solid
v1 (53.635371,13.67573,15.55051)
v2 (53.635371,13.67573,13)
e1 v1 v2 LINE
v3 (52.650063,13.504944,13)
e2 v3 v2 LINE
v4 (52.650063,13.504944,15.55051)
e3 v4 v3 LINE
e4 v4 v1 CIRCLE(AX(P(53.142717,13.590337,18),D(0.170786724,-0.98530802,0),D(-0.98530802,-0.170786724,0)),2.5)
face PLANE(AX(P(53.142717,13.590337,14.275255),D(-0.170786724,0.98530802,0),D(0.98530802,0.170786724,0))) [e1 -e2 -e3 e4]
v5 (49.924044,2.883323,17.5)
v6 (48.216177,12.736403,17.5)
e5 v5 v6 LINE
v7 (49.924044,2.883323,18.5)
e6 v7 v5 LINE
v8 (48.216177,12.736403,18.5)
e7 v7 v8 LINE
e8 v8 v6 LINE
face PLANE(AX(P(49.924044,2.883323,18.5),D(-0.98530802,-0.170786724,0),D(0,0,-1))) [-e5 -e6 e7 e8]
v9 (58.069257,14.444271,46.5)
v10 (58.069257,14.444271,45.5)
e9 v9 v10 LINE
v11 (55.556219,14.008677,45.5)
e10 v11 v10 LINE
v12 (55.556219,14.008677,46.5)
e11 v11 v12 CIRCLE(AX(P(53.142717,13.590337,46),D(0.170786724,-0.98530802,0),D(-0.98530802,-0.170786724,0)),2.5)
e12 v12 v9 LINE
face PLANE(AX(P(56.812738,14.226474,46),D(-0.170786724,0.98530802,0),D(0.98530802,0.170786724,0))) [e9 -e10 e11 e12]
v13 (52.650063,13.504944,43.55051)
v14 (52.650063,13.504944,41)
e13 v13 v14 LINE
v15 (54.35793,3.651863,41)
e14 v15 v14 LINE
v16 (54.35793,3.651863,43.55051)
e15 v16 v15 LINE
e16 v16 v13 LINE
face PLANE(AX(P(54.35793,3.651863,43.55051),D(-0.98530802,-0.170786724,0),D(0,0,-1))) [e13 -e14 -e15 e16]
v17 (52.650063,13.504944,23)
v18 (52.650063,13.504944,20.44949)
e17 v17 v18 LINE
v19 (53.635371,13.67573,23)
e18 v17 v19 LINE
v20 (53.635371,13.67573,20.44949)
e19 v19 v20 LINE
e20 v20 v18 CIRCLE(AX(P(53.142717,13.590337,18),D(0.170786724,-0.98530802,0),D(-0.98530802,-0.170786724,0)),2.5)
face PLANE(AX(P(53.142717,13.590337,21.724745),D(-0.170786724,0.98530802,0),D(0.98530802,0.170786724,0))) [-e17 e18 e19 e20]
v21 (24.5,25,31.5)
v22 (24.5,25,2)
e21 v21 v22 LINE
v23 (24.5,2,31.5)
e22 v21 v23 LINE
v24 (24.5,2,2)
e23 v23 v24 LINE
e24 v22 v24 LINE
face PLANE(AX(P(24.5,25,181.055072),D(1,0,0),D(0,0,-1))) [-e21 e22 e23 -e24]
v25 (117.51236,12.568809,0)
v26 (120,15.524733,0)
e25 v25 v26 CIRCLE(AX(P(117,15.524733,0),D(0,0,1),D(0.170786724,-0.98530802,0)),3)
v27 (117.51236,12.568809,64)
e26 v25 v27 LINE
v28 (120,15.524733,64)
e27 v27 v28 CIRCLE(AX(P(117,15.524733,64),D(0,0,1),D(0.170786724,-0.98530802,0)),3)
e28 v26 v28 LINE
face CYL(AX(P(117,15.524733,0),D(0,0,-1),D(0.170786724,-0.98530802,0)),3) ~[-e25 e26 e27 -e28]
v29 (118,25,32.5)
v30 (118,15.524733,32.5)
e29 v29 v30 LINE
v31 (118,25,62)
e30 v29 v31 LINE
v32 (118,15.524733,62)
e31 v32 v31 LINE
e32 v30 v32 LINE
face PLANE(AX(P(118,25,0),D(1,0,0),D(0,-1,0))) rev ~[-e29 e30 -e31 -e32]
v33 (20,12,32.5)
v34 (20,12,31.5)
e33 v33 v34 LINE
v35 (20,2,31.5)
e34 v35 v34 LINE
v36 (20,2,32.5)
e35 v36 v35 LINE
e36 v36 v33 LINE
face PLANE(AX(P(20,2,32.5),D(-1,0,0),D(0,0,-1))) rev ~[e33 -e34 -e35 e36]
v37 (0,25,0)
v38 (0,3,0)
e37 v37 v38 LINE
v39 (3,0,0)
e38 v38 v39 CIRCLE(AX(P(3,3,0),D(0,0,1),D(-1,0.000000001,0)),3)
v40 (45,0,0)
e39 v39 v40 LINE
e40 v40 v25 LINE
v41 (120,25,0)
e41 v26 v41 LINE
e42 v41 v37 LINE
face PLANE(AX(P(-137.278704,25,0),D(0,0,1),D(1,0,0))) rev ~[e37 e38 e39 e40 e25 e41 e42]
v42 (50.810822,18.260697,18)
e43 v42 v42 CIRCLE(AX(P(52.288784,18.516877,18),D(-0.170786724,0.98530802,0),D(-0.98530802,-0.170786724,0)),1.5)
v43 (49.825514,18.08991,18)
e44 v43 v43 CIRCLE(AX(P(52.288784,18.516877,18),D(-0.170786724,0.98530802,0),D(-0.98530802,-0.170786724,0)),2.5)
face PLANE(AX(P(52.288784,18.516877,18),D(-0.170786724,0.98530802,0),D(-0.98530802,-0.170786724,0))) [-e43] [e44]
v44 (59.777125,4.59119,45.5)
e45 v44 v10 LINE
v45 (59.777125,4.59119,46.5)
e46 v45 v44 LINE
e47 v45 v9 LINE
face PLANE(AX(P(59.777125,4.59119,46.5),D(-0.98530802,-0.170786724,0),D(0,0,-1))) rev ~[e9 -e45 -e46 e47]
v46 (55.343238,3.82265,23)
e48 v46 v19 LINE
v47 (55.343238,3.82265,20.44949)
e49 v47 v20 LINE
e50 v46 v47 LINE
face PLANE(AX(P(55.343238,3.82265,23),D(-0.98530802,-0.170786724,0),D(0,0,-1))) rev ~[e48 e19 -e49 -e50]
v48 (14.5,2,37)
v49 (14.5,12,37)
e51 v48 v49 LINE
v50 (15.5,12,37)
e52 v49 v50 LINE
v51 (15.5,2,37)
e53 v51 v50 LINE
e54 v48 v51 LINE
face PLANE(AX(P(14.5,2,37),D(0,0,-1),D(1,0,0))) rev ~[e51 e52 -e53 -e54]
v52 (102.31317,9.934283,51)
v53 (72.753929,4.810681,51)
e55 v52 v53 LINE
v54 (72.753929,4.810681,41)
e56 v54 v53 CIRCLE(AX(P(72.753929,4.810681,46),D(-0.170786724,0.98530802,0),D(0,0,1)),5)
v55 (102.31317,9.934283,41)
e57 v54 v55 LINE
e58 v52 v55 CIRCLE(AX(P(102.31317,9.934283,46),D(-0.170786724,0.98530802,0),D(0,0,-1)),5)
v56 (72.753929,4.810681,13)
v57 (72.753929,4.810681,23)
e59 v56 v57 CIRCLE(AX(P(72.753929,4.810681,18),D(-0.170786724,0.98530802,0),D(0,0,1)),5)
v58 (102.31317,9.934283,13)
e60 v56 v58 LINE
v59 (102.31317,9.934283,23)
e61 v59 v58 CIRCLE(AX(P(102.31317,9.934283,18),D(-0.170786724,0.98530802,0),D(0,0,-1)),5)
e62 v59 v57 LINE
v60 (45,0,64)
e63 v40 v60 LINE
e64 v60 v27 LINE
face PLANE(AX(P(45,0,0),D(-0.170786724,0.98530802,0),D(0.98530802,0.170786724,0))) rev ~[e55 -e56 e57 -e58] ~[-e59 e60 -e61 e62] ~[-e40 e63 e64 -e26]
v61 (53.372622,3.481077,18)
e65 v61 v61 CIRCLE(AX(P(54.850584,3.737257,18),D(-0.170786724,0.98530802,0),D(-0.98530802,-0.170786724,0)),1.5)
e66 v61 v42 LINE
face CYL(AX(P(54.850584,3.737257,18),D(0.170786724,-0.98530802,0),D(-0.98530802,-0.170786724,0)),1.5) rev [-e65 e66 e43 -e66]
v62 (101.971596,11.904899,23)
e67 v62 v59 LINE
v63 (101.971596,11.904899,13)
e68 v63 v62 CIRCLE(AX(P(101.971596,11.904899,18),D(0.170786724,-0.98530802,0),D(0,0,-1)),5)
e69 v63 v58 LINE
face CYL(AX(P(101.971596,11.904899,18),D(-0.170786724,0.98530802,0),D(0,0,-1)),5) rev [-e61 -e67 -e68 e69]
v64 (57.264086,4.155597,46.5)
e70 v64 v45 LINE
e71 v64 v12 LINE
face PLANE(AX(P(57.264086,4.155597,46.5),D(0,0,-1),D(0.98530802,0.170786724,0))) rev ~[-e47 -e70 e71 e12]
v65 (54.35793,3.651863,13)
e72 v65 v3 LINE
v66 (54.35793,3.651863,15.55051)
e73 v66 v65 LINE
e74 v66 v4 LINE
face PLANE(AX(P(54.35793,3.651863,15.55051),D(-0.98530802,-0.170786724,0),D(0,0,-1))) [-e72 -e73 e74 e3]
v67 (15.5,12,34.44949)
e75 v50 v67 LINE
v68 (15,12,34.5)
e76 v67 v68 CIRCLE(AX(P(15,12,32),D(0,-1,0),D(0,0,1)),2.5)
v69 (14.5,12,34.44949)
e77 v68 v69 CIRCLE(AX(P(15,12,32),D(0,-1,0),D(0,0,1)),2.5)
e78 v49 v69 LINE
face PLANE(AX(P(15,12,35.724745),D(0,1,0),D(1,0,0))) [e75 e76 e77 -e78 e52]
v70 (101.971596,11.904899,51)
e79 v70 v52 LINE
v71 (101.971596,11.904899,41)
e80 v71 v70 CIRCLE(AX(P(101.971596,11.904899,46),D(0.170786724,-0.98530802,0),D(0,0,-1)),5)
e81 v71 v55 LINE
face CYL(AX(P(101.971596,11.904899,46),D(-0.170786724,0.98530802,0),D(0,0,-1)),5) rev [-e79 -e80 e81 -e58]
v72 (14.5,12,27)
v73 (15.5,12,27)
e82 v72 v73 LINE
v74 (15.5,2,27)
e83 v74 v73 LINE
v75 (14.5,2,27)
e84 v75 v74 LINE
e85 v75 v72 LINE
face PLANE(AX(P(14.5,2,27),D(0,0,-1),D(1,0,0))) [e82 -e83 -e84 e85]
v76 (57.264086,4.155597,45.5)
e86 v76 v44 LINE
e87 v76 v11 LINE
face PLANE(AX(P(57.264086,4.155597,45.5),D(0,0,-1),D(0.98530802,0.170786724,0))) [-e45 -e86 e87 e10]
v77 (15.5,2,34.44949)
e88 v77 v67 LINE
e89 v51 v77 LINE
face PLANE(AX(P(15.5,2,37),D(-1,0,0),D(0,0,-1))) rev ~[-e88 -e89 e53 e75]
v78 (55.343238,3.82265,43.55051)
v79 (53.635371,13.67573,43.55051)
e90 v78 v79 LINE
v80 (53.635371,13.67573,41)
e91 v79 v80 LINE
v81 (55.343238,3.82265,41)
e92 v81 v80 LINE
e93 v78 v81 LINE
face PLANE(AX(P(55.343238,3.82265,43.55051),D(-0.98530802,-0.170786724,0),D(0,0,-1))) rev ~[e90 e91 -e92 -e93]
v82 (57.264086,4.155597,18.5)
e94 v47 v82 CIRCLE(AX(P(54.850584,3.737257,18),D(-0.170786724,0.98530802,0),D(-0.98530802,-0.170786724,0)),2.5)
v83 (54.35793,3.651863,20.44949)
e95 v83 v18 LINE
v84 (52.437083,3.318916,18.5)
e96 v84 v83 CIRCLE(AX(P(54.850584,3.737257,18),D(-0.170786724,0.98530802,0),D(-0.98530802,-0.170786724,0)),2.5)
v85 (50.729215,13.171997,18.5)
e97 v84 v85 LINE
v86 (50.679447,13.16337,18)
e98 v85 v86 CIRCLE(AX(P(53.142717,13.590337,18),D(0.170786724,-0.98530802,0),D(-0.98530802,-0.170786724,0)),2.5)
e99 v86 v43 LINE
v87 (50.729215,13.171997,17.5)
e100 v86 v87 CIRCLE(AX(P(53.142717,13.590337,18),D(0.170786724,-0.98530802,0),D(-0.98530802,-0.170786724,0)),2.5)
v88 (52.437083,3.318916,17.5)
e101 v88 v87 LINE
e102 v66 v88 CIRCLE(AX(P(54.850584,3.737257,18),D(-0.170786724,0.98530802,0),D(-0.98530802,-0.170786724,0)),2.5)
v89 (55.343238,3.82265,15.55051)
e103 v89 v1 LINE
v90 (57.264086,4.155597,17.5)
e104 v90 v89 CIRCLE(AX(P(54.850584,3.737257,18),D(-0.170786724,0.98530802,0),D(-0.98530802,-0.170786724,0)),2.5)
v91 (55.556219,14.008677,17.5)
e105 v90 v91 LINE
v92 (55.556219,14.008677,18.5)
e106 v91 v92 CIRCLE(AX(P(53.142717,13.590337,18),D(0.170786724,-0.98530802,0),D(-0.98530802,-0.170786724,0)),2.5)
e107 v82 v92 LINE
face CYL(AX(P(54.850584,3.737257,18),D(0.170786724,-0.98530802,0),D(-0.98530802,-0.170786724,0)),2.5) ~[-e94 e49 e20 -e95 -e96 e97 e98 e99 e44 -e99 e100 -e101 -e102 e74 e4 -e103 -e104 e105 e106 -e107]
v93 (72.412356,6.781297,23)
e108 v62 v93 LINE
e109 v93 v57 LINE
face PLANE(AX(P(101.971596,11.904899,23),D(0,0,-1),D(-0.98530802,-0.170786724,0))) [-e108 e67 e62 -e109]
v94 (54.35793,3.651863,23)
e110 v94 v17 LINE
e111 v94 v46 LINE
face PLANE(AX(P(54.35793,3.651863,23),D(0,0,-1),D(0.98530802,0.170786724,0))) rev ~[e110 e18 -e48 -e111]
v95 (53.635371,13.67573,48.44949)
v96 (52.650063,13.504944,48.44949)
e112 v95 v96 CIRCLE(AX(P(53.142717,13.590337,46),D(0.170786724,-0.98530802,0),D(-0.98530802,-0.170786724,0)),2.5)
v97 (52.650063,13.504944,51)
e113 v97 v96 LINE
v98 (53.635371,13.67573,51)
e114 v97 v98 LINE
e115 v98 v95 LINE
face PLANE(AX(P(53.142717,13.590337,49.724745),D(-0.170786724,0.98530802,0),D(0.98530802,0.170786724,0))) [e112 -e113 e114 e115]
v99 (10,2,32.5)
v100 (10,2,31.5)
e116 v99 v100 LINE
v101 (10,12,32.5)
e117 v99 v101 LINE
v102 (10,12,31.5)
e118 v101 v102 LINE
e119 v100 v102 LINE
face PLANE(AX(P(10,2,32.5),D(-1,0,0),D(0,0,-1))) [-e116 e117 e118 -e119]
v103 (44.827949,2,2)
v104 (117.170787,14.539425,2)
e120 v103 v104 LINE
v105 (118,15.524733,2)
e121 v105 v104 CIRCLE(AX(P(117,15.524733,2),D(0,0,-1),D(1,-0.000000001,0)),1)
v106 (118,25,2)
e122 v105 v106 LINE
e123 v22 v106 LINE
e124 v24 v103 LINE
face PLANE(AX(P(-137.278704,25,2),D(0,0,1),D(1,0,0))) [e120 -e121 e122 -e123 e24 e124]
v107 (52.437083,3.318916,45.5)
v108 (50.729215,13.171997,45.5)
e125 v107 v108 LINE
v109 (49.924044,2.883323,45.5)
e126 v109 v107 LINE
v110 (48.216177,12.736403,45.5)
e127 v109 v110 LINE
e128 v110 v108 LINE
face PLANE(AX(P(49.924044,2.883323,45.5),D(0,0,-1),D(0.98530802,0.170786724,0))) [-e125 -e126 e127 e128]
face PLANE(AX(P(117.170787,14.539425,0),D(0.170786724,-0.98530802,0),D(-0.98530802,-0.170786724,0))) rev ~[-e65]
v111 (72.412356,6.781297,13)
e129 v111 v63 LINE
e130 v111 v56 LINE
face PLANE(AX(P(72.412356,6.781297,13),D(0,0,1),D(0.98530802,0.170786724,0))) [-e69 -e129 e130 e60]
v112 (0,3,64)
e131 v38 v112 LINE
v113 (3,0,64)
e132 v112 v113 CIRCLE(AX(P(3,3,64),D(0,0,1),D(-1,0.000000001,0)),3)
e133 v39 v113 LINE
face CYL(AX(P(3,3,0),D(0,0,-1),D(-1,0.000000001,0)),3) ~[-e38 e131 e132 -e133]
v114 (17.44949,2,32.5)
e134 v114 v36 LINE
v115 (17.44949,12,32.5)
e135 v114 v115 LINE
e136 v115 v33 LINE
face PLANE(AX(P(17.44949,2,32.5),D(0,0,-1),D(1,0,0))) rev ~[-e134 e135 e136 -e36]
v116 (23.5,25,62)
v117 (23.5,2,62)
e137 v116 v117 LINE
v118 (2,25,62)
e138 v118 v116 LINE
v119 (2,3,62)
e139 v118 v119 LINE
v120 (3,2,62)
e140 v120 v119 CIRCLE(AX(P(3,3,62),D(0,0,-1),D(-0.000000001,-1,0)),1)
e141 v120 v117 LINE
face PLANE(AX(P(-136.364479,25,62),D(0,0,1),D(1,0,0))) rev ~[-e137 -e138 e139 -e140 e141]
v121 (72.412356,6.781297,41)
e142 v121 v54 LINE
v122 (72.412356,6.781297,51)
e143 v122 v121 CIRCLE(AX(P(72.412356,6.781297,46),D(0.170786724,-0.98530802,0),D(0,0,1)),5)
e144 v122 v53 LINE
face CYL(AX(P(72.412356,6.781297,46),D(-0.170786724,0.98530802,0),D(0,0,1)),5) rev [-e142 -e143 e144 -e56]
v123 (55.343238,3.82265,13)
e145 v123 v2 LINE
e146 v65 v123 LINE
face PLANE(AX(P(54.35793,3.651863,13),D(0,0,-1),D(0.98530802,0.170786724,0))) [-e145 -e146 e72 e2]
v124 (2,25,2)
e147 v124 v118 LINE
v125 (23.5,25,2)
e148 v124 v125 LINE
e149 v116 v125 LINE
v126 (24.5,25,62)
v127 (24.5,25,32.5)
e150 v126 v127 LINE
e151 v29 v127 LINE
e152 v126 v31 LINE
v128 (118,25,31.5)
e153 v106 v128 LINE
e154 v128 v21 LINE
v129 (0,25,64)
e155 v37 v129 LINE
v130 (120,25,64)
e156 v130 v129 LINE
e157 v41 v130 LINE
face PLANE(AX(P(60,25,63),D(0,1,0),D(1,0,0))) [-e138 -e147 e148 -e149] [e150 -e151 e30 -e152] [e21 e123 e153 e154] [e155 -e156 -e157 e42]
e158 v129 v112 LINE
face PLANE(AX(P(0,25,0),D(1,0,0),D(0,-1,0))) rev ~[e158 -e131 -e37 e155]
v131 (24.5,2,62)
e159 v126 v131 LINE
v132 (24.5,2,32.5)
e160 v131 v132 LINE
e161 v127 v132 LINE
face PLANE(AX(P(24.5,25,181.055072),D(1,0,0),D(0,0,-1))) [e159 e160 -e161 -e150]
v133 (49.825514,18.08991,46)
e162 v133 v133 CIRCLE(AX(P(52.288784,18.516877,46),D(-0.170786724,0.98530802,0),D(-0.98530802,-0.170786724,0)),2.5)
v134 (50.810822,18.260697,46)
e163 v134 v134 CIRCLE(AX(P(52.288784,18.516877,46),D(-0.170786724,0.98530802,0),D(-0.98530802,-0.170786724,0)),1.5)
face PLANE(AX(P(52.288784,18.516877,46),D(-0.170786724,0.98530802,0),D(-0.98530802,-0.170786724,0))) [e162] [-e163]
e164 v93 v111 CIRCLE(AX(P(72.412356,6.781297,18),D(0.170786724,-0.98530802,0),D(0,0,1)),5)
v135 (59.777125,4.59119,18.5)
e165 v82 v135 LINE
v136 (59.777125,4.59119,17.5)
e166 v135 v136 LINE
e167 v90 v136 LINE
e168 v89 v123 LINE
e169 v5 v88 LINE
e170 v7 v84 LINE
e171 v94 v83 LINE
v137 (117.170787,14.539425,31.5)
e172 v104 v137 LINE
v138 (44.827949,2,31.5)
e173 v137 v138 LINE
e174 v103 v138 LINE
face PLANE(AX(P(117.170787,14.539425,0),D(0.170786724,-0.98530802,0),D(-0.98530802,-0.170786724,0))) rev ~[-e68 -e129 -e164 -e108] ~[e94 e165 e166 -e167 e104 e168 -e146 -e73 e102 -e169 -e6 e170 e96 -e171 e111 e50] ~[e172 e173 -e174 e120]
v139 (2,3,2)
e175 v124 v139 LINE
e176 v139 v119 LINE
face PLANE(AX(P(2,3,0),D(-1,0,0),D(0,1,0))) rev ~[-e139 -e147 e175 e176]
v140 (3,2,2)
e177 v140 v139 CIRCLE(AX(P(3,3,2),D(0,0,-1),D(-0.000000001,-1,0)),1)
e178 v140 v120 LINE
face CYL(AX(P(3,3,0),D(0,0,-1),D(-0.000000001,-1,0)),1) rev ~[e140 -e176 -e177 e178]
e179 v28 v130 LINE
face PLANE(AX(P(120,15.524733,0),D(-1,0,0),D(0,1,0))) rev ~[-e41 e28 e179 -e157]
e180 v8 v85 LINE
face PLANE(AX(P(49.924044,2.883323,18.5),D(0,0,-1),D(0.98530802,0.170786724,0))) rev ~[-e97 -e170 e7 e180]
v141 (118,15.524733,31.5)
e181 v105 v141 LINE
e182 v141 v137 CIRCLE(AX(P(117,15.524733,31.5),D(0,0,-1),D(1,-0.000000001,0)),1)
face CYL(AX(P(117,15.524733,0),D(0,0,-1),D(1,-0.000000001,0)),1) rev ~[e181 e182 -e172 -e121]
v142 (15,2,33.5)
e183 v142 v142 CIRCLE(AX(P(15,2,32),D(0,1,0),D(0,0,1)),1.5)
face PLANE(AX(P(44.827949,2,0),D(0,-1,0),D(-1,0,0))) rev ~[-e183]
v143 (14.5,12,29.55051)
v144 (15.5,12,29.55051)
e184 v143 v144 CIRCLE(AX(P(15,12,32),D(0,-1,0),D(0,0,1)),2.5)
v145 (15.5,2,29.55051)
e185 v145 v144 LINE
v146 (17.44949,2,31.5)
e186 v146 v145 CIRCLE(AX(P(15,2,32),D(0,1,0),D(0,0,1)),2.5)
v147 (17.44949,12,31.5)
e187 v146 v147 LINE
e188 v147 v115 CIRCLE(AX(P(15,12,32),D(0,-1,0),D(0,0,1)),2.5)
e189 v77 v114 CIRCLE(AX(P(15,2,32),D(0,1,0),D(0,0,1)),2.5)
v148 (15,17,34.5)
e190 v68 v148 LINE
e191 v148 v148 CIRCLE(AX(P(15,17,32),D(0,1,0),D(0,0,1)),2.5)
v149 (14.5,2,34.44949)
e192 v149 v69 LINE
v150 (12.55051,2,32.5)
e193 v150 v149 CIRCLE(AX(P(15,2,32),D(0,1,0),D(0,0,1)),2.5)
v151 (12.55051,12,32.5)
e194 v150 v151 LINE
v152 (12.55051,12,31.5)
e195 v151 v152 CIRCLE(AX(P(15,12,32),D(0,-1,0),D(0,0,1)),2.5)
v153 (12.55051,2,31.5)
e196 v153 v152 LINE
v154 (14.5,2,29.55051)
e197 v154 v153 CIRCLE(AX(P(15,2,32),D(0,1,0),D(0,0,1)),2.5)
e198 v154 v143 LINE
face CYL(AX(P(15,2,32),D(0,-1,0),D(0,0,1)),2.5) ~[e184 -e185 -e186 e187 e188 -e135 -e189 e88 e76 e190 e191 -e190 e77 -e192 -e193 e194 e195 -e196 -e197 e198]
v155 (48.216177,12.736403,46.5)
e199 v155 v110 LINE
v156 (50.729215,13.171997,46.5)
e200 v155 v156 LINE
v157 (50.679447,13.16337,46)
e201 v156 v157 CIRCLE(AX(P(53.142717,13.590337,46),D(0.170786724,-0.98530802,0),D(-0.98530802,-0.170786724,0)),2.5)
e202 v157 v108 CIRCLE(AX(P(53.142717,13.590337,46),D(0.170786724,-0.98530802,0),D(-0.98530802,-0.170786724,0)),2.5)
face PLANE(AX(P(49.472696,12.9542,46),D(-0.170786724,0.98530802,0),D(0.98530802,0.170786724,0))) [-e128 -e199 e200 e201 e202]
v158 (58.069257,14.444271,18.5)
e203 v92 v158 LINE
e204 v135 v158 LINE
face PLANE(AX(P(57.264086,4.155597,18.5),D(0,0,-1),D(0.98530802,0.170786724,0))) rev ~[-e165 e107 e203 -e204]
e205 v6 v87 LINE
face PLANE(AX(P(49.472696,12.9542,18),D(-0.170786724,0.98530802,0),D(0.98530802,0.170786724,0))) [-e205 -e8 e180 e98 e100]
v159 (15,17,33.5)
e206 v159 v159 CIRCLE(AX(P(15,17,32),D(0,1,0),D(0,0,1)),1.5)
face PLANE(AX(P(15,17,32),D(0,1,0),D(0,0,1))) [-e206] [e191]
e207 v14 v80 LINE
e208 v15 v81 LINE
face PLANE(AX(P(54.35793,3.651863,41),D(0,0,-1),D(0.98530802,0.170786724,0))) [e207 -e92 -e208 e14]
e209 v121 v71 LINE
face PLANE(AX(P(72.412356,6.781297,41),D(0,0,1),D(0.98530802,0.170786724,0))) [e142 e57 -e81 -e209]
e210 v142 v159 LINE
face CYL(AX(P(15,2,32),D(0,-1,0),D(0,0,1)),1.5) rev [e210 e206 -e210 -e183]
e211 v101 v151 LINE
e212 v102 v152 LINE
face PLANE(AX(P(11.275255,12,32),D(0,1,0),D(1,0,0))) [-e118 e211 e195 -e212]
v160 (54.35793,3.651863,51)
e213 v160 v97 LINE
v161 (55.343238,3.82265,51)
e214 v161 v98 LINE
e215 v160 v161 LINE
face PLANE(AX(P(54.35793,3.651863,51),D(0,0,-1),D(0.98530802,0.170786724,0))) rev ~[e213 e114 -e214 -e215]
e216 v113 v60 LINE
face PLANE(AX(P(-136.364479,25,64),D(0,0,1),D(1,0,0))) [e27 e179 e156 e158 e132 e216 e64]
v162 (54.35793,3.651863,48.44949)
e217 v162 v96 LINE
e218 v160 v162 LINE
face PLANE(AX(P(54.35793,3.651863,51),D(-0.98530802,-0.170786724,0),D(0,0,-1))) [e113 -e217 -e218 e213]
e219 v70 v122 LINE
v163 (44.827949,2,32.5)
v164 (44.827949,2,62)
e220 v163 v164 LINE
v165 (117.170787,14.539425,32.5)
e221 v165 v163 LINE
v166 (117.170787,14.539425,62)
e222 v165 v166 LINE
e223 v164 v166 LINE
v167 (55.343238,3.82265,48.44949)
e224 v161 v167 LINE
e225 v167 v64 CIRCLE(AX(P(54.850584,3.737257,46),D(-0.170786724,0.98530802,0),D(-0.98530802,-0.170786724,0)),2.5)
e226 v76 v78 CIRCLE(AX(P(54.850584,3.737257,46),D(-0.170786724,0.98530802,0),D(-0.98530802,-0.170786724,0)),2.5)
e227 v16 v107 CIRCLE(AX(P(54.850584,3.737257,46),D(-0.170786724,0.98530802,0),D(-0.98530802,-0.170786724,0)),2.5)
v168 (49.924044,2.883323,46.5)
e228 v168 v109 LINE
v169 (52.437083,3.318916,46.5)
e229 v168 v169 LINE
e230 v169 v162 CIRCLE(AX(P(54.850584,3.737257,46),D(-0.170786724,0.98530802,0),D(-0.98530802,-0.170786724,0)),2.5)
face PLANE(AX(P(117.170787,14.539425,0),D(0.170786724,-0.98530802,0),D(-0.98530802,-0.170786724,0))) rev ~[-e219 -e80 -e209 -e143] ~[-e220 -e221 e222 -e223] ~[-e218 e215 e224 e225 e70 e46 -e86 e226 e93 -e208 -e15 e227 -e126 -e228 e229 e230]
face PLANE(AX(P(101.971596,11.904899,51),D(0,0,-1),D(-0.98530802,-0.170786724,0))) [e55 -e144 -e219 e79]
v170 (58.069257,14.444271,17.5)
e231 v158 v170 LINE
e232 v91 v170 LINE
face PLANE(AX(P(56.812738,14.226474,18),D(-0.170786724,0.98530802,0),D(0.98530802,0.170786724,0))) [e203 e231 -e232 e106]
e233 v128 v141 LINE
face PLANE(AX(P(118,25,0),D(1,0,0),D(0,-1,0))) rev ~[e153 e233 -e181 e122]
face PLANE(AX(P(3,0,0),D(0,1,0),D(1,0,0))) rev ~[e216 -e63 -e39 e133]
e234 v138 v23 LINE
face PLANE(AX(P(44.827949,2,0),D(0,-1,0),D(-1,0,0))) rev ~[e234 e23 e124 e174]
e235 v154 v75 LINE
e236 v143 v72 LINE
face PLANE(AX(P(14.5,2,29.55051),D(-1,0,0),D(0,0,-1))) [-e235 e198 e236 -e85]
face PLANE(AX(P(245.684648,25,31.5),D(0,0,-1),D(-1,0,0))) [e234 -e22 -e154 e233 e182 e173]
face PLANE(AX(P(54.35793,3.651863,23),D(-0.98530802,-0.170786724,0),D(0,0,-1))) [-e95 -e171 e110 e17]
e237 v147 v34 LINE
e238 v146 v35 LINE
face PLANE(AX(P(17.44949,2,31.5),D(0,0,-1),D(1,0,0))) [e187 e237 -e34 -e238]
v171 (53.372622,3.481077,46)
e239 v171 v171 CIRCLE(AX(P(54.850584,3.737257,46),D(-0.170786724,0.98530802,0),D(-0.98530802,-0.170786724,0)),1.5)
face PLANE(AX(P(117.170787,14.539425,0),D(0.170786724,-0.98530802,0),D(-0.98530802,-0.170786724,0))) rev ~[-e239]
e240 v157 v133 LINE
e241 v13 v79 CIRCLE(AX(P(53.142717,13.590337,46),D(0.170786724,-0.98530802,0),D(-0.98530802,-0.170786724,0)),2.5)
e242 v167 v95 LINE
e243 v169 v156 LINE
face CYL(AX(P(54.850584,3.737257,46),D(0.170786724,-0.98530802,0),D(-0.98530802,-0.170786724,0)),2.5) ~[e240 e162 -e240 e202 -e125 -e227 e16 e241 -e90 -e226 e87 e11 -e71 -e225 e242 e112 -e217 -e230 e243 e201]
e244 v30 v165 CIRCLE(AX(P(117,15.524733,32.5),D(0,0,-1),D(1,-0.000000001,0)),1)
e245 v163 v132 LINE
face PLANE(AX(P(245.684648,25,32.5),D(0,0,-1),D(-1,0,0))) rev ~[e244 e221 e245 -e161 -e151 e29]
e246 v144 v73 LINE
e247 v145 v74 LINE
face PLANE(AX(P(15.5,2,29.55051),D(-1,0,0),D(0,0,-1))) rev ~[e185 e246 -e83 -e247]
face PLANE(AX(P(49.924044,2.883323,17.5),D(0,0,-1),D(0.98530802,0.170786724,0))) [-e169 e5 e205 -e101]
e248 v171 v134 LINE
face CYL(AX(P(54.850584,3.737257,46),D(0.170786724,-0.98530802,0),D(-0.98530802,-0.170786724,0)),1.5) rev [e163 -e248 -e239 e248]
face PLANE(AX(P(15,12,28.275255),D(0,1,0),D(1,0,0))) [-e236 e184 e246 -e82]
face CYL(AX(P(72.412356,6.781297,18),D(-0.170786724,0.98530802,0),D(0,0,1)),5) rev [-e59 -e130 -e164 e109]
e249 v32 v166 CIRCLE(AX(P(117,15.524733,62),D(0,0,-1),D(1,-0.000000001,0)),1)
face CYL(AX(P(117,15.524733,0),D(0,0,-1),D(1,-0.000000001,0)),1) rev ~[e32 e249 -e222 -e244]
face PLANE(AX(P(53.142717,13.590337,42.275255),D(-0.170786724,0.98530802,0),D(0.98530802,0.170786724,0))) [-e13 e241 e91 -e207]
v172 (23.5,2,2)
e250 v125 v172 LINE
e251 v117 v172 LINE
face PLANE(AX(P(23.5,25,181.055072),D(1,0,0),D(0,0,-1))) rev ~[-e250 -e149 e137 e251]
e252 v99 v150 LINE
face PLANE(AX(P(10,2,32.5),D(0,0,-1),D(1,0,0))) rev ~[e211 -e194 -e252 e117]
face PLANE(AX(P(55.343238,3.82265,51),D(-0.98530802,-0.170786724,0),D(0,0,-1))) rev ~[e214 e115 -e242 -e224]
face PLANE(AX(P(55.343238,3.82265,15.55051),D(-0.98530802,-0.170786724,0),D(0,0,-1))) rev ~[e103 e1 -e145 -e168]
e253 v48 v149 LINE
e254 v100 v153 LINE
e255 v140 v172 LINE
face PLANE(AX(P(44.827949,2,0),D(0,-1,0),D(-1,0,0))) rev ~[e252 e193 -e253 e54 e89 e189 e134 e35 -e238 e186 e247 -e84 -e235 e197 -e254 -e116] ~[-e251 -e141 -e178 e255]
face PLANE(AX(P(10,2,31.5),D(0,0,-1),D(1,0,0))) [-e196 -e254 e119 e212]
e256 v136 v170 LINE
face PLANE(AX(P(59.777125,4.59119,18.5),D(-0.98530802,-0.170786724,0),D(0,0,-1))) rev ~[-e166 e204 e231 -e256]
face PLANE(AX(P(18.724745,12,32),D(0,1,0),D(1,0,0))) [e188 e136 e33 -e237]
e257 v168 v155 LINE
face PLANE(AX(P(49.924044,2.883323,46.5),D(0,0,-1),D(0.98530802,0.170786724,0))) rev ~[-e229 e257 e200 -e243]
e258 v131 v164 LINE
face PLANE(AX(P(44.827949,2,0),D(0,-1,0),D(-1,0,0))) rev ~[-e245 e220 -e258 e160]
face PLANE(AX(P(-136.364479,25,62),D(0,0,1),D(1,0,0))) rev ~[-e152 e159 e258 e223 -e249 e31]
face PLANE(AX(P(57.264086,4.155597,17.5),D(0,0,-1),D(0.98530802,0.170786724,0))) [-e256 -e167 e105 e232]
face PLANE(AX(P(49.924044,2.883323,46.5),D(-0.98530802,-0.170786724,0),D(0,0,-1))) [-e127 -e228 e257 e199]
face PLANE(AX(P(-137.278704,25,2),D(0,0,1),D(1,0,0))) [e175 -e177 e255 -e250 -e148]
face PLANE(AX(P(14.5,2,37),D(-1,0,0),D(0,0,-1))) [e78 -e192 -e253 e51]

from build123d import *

# Parameters (mm, degrees)
EXTRUDE_THIN2_DEPTH = 64
RIB1_REACH          = 140.279
SKETCH2_WALL_W      = 394.557408146
SKETCH2_WALL_H      = 2
RIB2_REACH          = 139.364
SKETCH3_WALL_W      = 392.728957338
SKETCH3_WALL_H      = 2
CUT_EXTRUDE1_DEPTH  = 10
RIB9_REACH          = 120.055
SKETCH12_WALL_W     = 298.110143788
SKETCH12_WALL_H     = 1
RIB10_REACH         = 128.685
SKETCH13_WALL_W     = 348.869295694
SKETCH13_WALL_H     = 1
SKETCH14_R          = 2.5
SKETCH14_R_2        = 1.5
BOSS_EXTRUDE1_DEPTH = 15
SKETCH15_W          = 1
SKETCH15_H          = 2.550510257
SKETCH15_W_2        = 2.550510257
SKETCH15_H_2        = 1
BOSS_EXTRUDE2_DEPTH = 10
SKETCH16_R          = 2.5
SKETCH16_R_2        = 1.5
BOSS_EXTRUDE3_DEPTH = 15
SKETCH17_W          = 1
SKETCH17_H          = 2.550510257
SKETCH17_W_2        = 2.550510257
SKETCH17_H_2        = 1
BOSS_EXTRUDE4_DEPTH = 10
SKETCH18_W          = 1
SKETCH18_H          = 2.550510257
SKETCH18_W_2        = 2.550510257
SKETCH18_H_2        = 1
BOSS_EXTRUDE5_DEPTH = 10


with BuildPart() as part:
    # Sketch1 → Extrude-Thin2 (new body)
    with BuildSketch(Plane.XY):
        with BuildLine():
            Line((0, 25), (0, 3))
            ThreePointArc((0, 3), (0.878679656, 0.878679656), (3, 0))
            Line((3, 0), (45, 0))
            Line((45, 0), (117.512360171, 12.568809096))
            ThreePointArc((117.512360171, 12.568809096), (119.295330097, 13.593034489), (120, 15.524733157))
            Line((120, 15.524733157), (120, 25))
            Line((120, 25), (118, 25))
            Line((118, 25), (118, 15.524733157))
            ThreePointArc((118, 15.524733157), (117.765110032, 14.880833601), (117.170786724, 14.539425137))
            Line((117.170786724, 14.539425137), (44.827949394, 2))
            Line((44.827949394, 2), (3, 2))
            ThreePointArc((3, 2), (2.292893219, 2.292893219), (2, 3))
            Line((2, 3), (2, 25))
            Line((2, 25), (0, 25))
        make_face()
    extrude(amount=EXTRUDE_THIN2_DEPTH)

    # Sketch2 wall → Rib1 (add, up to next)
    with BuildSketch(Plane(origin=(60, 25, 0), x_dir=(1, 0, 0), z_dir=(0, 1, 0)), mode=Mode.PRIVATE) as rib1_sk1:
        with Locations((0, -1)):
            Rectangle(SKETCH2_WALL_W, SKETCH2_WALL_H)
    rib1_tool1 = extrude(rib1_sk1.sketch, amount=-RIB1_REACH, mode=Mode.PRIVATE) - part.part
    add(rib1_tool1.solids().sort_by_distance((60, 25, 0))[0])

    # Sketch3 wall → Rib2 (add, up to next)
    with BuildSketch(Plane(origin=(60, 25, 62), x_dir=(1, 0, 0), z_dir=(0, 1, 0)), mode=Mode.PRIVATE) as rib2_sk1:
        with Locations((0, -1)):
            Rectangle(SKETCH3_WALL_W, SKETCH3_WALL_H)
    rib2_tool1 = extrude(rib2_sk1.sketch, amount=-RIB2_REACH, mode=Mode.PRIVATE) - part.part
    add(rib2_tool1.solids().sort_by_distance((60, 25, 62))[0])

    # Sketch8 → Cut-Extrude1 (cut)
    with BuildSketch(Plane(origin=(0.970991275, -5.601872741, 0), x_dir=(0.9853080203996408, 0.17078672353593802, 0), z_dir=(-0.17078672353593802, 0.9853080203996408, 0))):
        with BuildLine():
            Line((72.506630536, -13), (102.506630536, -13))
            ThreePointArc((102.506630536, -13), (107.506630536, -18), (102.506630536, -23))
            Line((102.506630536, -23), (72.506630536, -23))
            ThreePointArc((72.506630536, -23), (67.506630536, -18), (72.506630536, -13))
        make_face()
        with BuildLine():
            Line((72.506630536, -41), (102.506630536, -41))
            ThreePointArc((102.506630536, -41), (107.506630536, -46), (102.506630536, -51))
            Line((102.506630536, -51), (72.506630536, -51))
            ThreePointArc((72.506630536, -51), (67.506630536, -46), (72.506630536, -41))
        make_face()
    extrude(amount=-CUT_EXTRUDE1_DEPTH, mode=Mode.SUBTRACT)

    # Sketch12 wall → Rib9 (add, up to next)
    with BuildSketch(Plane(origin=(24, 25, 32), x_dir=(0, 0, -1), z_dir=(0, 1, 0)), mode=Mode.PRIVATE) as rib9_sk1:
        Rectangle(SKETCH12_WALL_W, SKETCH12_WALL_H)
    rib9_tool1 = extrude(rib9_sk1.sketch, amount=-RIB9_REACH, mode=Mode.PRIVATE) - part.part
    add(rib9_tool1.solids().sort_by_distance((24, 25, 32))[0])

    # Sketch13 wall → Rib10 (add, up to next)
    with BuildSketch(Plane(origin=(71.25, 25, 32), x_dir=(-1, 0, 0), z_dir=(0, 1, 0)), mode=Mode.PRIVATE) as rib10_sk1:
        Rectangle(SKETCH13_WALL_W, SKETCH13_WALL_H)
    rib10_tool1 = extrude(rib10_sk1.sketch, amount=-RIB10_REACH, mode=Mode.PRIVATE) - part.part
    add(rib10_tool1.solids().sort_by_distance((71.25, 25, 32))[0])

    # Sketch14 → Boss-Extrude1 (add)
    with BuildSketch(Plane(origin=(0, 2, 0), x_dir=(1, 0, 0), z_dir=(0, 1, 0))):
        with Locations(Location((15, -32, 0), (0, 0, 270))):
            Circle(SKETCH14_R)
        with Locations(Location((15, -32, 0), (0, 0, 270))):
            Circle(SKETCH14_R_2, mode=Mode.SUBTRACT)
    extrude(amount=BOSS_EXTRUDE1_DEPTH)

    # Sketch15 → Boss-Extrude2 (add)
    with BuildSketch(Plane(origin=(0, 2, 0), x_dir=(1, 0, 0), z_dir=(0, 1, 0))):
        with Locations((15, -28.275255128)):
            Rectangle(SKETCH15_W, SKETCH15_H)
        with Locations((11.275255128, -32)):
            Rectangle(SKETCH15_W_2, SKETCH15_H_2)
        with Locations((15, -35.724744872)):
            Rectangle(SKETCH15_W, SKETCH15_H)
        with Locations((18.724744872, -32)):
            Rectangle(SKETCH15_W_2, SKETCH15_H_2)
    extrude(amount=BOSS_EXTRUDE2_DEPTH)

    # Sketch16 → Boss-Extrude3 (add)
    # profile 1 of 2: a face of its own
    with BuildSketch(Plane(origin=(0.970991275, -5.601872741, 0), x_dir=(0.9853080203996408, 0.17078672353593802, 0), z_dir=(-0.17078672353593802, 0.9853080203996408, 0))):
        with Locations(Location((54.682994606, -18, 0), (0, 0, 180))):
            Circle(SKETCH16_R)
        with Locations(Location((54.682994606, -18, 0), (0, 0, 180))):
            Circle(SKETCH16_R_2, mode=Mode.SUBTRACT)
    # profile 2 of 2: a face of its own
    with BuildSketch(Plane(origin=(0.970991275, -5.601872741, 0), x_dir=(0.9853080203996408, 0.17078672353593802, 0), z_dir=(-0.17078672353593802, 0.9853080203996408, 0))):
        with Locations(Location((54.682994606, -46, 0), (0, 0, 180))):
            Circle(SKETCH16_R)
        with Locations(Location((54.682994606, -46, 0), (0, 0, 180))):
            Circle(SKETCH16_R_2, mode=Mode.SUBTRACT)
    extrude(amount=BOSS_EXTRUDE3_DEPTH)

    # Sketch17 → Boss-Extrude4 (add)
    with BuildSketch(Plane(origin=(0.970991275, -5.601872741, 0), x_dir=(0.9853080203996408, 0.17078672353593802, 0), z_dir=(-0.17078672353593802, 0.9853080203996408, 0))):
        with Locations((54.682994606, -14.275255128)):
            Rectangle(SKETCH17_W, SKETCH17_H)
        with Locations((58.407739478, -18)):
            Rectangle(SKETCH17_W_2, SKETCH17_H_2)
        with Locations((54.682994606, -21.724744872)):
            Rectangle(SKETCH17_W, SKETCH17_H)
        with Locations((50.958249735, -18)):
            Rectangle(SKETCH17_W_2, SKETCH17_H_2)
    extrude(amount=BOSS_EXTRUDE4_DEPTH)

    # Sketch18 → Boss-Extrude5 (add)
    with BuildSketch(Plane(origin=(0.970991275, -5.601872741, 0), x_dir=(0.9853080203996408, 0.17078672353593802, 0), z_dir=(-0.17078672353593802, 0.9853080203996408, 0))):
        with Locations((54.682994606, -42.275255129)):
            Rectangle(SKETCH18_W, SKETCH18_H)
        with Locations((58.407739478, -46)):
            Rectangle(SKETCH18_W_2, SKETCH18_H_2)
        with Locations((54.682994606, -49.724744872)):
            Rectangle(SKETCH18_W, SKETCH18_H)
        with Locations((50.958249735, -46)):
            Rectangle(SKETCH18_W_2, SKETCH18_H_2)
    extrude(amount=BOSS_EXTRUDE5_DEPTH)


solid = part.part
